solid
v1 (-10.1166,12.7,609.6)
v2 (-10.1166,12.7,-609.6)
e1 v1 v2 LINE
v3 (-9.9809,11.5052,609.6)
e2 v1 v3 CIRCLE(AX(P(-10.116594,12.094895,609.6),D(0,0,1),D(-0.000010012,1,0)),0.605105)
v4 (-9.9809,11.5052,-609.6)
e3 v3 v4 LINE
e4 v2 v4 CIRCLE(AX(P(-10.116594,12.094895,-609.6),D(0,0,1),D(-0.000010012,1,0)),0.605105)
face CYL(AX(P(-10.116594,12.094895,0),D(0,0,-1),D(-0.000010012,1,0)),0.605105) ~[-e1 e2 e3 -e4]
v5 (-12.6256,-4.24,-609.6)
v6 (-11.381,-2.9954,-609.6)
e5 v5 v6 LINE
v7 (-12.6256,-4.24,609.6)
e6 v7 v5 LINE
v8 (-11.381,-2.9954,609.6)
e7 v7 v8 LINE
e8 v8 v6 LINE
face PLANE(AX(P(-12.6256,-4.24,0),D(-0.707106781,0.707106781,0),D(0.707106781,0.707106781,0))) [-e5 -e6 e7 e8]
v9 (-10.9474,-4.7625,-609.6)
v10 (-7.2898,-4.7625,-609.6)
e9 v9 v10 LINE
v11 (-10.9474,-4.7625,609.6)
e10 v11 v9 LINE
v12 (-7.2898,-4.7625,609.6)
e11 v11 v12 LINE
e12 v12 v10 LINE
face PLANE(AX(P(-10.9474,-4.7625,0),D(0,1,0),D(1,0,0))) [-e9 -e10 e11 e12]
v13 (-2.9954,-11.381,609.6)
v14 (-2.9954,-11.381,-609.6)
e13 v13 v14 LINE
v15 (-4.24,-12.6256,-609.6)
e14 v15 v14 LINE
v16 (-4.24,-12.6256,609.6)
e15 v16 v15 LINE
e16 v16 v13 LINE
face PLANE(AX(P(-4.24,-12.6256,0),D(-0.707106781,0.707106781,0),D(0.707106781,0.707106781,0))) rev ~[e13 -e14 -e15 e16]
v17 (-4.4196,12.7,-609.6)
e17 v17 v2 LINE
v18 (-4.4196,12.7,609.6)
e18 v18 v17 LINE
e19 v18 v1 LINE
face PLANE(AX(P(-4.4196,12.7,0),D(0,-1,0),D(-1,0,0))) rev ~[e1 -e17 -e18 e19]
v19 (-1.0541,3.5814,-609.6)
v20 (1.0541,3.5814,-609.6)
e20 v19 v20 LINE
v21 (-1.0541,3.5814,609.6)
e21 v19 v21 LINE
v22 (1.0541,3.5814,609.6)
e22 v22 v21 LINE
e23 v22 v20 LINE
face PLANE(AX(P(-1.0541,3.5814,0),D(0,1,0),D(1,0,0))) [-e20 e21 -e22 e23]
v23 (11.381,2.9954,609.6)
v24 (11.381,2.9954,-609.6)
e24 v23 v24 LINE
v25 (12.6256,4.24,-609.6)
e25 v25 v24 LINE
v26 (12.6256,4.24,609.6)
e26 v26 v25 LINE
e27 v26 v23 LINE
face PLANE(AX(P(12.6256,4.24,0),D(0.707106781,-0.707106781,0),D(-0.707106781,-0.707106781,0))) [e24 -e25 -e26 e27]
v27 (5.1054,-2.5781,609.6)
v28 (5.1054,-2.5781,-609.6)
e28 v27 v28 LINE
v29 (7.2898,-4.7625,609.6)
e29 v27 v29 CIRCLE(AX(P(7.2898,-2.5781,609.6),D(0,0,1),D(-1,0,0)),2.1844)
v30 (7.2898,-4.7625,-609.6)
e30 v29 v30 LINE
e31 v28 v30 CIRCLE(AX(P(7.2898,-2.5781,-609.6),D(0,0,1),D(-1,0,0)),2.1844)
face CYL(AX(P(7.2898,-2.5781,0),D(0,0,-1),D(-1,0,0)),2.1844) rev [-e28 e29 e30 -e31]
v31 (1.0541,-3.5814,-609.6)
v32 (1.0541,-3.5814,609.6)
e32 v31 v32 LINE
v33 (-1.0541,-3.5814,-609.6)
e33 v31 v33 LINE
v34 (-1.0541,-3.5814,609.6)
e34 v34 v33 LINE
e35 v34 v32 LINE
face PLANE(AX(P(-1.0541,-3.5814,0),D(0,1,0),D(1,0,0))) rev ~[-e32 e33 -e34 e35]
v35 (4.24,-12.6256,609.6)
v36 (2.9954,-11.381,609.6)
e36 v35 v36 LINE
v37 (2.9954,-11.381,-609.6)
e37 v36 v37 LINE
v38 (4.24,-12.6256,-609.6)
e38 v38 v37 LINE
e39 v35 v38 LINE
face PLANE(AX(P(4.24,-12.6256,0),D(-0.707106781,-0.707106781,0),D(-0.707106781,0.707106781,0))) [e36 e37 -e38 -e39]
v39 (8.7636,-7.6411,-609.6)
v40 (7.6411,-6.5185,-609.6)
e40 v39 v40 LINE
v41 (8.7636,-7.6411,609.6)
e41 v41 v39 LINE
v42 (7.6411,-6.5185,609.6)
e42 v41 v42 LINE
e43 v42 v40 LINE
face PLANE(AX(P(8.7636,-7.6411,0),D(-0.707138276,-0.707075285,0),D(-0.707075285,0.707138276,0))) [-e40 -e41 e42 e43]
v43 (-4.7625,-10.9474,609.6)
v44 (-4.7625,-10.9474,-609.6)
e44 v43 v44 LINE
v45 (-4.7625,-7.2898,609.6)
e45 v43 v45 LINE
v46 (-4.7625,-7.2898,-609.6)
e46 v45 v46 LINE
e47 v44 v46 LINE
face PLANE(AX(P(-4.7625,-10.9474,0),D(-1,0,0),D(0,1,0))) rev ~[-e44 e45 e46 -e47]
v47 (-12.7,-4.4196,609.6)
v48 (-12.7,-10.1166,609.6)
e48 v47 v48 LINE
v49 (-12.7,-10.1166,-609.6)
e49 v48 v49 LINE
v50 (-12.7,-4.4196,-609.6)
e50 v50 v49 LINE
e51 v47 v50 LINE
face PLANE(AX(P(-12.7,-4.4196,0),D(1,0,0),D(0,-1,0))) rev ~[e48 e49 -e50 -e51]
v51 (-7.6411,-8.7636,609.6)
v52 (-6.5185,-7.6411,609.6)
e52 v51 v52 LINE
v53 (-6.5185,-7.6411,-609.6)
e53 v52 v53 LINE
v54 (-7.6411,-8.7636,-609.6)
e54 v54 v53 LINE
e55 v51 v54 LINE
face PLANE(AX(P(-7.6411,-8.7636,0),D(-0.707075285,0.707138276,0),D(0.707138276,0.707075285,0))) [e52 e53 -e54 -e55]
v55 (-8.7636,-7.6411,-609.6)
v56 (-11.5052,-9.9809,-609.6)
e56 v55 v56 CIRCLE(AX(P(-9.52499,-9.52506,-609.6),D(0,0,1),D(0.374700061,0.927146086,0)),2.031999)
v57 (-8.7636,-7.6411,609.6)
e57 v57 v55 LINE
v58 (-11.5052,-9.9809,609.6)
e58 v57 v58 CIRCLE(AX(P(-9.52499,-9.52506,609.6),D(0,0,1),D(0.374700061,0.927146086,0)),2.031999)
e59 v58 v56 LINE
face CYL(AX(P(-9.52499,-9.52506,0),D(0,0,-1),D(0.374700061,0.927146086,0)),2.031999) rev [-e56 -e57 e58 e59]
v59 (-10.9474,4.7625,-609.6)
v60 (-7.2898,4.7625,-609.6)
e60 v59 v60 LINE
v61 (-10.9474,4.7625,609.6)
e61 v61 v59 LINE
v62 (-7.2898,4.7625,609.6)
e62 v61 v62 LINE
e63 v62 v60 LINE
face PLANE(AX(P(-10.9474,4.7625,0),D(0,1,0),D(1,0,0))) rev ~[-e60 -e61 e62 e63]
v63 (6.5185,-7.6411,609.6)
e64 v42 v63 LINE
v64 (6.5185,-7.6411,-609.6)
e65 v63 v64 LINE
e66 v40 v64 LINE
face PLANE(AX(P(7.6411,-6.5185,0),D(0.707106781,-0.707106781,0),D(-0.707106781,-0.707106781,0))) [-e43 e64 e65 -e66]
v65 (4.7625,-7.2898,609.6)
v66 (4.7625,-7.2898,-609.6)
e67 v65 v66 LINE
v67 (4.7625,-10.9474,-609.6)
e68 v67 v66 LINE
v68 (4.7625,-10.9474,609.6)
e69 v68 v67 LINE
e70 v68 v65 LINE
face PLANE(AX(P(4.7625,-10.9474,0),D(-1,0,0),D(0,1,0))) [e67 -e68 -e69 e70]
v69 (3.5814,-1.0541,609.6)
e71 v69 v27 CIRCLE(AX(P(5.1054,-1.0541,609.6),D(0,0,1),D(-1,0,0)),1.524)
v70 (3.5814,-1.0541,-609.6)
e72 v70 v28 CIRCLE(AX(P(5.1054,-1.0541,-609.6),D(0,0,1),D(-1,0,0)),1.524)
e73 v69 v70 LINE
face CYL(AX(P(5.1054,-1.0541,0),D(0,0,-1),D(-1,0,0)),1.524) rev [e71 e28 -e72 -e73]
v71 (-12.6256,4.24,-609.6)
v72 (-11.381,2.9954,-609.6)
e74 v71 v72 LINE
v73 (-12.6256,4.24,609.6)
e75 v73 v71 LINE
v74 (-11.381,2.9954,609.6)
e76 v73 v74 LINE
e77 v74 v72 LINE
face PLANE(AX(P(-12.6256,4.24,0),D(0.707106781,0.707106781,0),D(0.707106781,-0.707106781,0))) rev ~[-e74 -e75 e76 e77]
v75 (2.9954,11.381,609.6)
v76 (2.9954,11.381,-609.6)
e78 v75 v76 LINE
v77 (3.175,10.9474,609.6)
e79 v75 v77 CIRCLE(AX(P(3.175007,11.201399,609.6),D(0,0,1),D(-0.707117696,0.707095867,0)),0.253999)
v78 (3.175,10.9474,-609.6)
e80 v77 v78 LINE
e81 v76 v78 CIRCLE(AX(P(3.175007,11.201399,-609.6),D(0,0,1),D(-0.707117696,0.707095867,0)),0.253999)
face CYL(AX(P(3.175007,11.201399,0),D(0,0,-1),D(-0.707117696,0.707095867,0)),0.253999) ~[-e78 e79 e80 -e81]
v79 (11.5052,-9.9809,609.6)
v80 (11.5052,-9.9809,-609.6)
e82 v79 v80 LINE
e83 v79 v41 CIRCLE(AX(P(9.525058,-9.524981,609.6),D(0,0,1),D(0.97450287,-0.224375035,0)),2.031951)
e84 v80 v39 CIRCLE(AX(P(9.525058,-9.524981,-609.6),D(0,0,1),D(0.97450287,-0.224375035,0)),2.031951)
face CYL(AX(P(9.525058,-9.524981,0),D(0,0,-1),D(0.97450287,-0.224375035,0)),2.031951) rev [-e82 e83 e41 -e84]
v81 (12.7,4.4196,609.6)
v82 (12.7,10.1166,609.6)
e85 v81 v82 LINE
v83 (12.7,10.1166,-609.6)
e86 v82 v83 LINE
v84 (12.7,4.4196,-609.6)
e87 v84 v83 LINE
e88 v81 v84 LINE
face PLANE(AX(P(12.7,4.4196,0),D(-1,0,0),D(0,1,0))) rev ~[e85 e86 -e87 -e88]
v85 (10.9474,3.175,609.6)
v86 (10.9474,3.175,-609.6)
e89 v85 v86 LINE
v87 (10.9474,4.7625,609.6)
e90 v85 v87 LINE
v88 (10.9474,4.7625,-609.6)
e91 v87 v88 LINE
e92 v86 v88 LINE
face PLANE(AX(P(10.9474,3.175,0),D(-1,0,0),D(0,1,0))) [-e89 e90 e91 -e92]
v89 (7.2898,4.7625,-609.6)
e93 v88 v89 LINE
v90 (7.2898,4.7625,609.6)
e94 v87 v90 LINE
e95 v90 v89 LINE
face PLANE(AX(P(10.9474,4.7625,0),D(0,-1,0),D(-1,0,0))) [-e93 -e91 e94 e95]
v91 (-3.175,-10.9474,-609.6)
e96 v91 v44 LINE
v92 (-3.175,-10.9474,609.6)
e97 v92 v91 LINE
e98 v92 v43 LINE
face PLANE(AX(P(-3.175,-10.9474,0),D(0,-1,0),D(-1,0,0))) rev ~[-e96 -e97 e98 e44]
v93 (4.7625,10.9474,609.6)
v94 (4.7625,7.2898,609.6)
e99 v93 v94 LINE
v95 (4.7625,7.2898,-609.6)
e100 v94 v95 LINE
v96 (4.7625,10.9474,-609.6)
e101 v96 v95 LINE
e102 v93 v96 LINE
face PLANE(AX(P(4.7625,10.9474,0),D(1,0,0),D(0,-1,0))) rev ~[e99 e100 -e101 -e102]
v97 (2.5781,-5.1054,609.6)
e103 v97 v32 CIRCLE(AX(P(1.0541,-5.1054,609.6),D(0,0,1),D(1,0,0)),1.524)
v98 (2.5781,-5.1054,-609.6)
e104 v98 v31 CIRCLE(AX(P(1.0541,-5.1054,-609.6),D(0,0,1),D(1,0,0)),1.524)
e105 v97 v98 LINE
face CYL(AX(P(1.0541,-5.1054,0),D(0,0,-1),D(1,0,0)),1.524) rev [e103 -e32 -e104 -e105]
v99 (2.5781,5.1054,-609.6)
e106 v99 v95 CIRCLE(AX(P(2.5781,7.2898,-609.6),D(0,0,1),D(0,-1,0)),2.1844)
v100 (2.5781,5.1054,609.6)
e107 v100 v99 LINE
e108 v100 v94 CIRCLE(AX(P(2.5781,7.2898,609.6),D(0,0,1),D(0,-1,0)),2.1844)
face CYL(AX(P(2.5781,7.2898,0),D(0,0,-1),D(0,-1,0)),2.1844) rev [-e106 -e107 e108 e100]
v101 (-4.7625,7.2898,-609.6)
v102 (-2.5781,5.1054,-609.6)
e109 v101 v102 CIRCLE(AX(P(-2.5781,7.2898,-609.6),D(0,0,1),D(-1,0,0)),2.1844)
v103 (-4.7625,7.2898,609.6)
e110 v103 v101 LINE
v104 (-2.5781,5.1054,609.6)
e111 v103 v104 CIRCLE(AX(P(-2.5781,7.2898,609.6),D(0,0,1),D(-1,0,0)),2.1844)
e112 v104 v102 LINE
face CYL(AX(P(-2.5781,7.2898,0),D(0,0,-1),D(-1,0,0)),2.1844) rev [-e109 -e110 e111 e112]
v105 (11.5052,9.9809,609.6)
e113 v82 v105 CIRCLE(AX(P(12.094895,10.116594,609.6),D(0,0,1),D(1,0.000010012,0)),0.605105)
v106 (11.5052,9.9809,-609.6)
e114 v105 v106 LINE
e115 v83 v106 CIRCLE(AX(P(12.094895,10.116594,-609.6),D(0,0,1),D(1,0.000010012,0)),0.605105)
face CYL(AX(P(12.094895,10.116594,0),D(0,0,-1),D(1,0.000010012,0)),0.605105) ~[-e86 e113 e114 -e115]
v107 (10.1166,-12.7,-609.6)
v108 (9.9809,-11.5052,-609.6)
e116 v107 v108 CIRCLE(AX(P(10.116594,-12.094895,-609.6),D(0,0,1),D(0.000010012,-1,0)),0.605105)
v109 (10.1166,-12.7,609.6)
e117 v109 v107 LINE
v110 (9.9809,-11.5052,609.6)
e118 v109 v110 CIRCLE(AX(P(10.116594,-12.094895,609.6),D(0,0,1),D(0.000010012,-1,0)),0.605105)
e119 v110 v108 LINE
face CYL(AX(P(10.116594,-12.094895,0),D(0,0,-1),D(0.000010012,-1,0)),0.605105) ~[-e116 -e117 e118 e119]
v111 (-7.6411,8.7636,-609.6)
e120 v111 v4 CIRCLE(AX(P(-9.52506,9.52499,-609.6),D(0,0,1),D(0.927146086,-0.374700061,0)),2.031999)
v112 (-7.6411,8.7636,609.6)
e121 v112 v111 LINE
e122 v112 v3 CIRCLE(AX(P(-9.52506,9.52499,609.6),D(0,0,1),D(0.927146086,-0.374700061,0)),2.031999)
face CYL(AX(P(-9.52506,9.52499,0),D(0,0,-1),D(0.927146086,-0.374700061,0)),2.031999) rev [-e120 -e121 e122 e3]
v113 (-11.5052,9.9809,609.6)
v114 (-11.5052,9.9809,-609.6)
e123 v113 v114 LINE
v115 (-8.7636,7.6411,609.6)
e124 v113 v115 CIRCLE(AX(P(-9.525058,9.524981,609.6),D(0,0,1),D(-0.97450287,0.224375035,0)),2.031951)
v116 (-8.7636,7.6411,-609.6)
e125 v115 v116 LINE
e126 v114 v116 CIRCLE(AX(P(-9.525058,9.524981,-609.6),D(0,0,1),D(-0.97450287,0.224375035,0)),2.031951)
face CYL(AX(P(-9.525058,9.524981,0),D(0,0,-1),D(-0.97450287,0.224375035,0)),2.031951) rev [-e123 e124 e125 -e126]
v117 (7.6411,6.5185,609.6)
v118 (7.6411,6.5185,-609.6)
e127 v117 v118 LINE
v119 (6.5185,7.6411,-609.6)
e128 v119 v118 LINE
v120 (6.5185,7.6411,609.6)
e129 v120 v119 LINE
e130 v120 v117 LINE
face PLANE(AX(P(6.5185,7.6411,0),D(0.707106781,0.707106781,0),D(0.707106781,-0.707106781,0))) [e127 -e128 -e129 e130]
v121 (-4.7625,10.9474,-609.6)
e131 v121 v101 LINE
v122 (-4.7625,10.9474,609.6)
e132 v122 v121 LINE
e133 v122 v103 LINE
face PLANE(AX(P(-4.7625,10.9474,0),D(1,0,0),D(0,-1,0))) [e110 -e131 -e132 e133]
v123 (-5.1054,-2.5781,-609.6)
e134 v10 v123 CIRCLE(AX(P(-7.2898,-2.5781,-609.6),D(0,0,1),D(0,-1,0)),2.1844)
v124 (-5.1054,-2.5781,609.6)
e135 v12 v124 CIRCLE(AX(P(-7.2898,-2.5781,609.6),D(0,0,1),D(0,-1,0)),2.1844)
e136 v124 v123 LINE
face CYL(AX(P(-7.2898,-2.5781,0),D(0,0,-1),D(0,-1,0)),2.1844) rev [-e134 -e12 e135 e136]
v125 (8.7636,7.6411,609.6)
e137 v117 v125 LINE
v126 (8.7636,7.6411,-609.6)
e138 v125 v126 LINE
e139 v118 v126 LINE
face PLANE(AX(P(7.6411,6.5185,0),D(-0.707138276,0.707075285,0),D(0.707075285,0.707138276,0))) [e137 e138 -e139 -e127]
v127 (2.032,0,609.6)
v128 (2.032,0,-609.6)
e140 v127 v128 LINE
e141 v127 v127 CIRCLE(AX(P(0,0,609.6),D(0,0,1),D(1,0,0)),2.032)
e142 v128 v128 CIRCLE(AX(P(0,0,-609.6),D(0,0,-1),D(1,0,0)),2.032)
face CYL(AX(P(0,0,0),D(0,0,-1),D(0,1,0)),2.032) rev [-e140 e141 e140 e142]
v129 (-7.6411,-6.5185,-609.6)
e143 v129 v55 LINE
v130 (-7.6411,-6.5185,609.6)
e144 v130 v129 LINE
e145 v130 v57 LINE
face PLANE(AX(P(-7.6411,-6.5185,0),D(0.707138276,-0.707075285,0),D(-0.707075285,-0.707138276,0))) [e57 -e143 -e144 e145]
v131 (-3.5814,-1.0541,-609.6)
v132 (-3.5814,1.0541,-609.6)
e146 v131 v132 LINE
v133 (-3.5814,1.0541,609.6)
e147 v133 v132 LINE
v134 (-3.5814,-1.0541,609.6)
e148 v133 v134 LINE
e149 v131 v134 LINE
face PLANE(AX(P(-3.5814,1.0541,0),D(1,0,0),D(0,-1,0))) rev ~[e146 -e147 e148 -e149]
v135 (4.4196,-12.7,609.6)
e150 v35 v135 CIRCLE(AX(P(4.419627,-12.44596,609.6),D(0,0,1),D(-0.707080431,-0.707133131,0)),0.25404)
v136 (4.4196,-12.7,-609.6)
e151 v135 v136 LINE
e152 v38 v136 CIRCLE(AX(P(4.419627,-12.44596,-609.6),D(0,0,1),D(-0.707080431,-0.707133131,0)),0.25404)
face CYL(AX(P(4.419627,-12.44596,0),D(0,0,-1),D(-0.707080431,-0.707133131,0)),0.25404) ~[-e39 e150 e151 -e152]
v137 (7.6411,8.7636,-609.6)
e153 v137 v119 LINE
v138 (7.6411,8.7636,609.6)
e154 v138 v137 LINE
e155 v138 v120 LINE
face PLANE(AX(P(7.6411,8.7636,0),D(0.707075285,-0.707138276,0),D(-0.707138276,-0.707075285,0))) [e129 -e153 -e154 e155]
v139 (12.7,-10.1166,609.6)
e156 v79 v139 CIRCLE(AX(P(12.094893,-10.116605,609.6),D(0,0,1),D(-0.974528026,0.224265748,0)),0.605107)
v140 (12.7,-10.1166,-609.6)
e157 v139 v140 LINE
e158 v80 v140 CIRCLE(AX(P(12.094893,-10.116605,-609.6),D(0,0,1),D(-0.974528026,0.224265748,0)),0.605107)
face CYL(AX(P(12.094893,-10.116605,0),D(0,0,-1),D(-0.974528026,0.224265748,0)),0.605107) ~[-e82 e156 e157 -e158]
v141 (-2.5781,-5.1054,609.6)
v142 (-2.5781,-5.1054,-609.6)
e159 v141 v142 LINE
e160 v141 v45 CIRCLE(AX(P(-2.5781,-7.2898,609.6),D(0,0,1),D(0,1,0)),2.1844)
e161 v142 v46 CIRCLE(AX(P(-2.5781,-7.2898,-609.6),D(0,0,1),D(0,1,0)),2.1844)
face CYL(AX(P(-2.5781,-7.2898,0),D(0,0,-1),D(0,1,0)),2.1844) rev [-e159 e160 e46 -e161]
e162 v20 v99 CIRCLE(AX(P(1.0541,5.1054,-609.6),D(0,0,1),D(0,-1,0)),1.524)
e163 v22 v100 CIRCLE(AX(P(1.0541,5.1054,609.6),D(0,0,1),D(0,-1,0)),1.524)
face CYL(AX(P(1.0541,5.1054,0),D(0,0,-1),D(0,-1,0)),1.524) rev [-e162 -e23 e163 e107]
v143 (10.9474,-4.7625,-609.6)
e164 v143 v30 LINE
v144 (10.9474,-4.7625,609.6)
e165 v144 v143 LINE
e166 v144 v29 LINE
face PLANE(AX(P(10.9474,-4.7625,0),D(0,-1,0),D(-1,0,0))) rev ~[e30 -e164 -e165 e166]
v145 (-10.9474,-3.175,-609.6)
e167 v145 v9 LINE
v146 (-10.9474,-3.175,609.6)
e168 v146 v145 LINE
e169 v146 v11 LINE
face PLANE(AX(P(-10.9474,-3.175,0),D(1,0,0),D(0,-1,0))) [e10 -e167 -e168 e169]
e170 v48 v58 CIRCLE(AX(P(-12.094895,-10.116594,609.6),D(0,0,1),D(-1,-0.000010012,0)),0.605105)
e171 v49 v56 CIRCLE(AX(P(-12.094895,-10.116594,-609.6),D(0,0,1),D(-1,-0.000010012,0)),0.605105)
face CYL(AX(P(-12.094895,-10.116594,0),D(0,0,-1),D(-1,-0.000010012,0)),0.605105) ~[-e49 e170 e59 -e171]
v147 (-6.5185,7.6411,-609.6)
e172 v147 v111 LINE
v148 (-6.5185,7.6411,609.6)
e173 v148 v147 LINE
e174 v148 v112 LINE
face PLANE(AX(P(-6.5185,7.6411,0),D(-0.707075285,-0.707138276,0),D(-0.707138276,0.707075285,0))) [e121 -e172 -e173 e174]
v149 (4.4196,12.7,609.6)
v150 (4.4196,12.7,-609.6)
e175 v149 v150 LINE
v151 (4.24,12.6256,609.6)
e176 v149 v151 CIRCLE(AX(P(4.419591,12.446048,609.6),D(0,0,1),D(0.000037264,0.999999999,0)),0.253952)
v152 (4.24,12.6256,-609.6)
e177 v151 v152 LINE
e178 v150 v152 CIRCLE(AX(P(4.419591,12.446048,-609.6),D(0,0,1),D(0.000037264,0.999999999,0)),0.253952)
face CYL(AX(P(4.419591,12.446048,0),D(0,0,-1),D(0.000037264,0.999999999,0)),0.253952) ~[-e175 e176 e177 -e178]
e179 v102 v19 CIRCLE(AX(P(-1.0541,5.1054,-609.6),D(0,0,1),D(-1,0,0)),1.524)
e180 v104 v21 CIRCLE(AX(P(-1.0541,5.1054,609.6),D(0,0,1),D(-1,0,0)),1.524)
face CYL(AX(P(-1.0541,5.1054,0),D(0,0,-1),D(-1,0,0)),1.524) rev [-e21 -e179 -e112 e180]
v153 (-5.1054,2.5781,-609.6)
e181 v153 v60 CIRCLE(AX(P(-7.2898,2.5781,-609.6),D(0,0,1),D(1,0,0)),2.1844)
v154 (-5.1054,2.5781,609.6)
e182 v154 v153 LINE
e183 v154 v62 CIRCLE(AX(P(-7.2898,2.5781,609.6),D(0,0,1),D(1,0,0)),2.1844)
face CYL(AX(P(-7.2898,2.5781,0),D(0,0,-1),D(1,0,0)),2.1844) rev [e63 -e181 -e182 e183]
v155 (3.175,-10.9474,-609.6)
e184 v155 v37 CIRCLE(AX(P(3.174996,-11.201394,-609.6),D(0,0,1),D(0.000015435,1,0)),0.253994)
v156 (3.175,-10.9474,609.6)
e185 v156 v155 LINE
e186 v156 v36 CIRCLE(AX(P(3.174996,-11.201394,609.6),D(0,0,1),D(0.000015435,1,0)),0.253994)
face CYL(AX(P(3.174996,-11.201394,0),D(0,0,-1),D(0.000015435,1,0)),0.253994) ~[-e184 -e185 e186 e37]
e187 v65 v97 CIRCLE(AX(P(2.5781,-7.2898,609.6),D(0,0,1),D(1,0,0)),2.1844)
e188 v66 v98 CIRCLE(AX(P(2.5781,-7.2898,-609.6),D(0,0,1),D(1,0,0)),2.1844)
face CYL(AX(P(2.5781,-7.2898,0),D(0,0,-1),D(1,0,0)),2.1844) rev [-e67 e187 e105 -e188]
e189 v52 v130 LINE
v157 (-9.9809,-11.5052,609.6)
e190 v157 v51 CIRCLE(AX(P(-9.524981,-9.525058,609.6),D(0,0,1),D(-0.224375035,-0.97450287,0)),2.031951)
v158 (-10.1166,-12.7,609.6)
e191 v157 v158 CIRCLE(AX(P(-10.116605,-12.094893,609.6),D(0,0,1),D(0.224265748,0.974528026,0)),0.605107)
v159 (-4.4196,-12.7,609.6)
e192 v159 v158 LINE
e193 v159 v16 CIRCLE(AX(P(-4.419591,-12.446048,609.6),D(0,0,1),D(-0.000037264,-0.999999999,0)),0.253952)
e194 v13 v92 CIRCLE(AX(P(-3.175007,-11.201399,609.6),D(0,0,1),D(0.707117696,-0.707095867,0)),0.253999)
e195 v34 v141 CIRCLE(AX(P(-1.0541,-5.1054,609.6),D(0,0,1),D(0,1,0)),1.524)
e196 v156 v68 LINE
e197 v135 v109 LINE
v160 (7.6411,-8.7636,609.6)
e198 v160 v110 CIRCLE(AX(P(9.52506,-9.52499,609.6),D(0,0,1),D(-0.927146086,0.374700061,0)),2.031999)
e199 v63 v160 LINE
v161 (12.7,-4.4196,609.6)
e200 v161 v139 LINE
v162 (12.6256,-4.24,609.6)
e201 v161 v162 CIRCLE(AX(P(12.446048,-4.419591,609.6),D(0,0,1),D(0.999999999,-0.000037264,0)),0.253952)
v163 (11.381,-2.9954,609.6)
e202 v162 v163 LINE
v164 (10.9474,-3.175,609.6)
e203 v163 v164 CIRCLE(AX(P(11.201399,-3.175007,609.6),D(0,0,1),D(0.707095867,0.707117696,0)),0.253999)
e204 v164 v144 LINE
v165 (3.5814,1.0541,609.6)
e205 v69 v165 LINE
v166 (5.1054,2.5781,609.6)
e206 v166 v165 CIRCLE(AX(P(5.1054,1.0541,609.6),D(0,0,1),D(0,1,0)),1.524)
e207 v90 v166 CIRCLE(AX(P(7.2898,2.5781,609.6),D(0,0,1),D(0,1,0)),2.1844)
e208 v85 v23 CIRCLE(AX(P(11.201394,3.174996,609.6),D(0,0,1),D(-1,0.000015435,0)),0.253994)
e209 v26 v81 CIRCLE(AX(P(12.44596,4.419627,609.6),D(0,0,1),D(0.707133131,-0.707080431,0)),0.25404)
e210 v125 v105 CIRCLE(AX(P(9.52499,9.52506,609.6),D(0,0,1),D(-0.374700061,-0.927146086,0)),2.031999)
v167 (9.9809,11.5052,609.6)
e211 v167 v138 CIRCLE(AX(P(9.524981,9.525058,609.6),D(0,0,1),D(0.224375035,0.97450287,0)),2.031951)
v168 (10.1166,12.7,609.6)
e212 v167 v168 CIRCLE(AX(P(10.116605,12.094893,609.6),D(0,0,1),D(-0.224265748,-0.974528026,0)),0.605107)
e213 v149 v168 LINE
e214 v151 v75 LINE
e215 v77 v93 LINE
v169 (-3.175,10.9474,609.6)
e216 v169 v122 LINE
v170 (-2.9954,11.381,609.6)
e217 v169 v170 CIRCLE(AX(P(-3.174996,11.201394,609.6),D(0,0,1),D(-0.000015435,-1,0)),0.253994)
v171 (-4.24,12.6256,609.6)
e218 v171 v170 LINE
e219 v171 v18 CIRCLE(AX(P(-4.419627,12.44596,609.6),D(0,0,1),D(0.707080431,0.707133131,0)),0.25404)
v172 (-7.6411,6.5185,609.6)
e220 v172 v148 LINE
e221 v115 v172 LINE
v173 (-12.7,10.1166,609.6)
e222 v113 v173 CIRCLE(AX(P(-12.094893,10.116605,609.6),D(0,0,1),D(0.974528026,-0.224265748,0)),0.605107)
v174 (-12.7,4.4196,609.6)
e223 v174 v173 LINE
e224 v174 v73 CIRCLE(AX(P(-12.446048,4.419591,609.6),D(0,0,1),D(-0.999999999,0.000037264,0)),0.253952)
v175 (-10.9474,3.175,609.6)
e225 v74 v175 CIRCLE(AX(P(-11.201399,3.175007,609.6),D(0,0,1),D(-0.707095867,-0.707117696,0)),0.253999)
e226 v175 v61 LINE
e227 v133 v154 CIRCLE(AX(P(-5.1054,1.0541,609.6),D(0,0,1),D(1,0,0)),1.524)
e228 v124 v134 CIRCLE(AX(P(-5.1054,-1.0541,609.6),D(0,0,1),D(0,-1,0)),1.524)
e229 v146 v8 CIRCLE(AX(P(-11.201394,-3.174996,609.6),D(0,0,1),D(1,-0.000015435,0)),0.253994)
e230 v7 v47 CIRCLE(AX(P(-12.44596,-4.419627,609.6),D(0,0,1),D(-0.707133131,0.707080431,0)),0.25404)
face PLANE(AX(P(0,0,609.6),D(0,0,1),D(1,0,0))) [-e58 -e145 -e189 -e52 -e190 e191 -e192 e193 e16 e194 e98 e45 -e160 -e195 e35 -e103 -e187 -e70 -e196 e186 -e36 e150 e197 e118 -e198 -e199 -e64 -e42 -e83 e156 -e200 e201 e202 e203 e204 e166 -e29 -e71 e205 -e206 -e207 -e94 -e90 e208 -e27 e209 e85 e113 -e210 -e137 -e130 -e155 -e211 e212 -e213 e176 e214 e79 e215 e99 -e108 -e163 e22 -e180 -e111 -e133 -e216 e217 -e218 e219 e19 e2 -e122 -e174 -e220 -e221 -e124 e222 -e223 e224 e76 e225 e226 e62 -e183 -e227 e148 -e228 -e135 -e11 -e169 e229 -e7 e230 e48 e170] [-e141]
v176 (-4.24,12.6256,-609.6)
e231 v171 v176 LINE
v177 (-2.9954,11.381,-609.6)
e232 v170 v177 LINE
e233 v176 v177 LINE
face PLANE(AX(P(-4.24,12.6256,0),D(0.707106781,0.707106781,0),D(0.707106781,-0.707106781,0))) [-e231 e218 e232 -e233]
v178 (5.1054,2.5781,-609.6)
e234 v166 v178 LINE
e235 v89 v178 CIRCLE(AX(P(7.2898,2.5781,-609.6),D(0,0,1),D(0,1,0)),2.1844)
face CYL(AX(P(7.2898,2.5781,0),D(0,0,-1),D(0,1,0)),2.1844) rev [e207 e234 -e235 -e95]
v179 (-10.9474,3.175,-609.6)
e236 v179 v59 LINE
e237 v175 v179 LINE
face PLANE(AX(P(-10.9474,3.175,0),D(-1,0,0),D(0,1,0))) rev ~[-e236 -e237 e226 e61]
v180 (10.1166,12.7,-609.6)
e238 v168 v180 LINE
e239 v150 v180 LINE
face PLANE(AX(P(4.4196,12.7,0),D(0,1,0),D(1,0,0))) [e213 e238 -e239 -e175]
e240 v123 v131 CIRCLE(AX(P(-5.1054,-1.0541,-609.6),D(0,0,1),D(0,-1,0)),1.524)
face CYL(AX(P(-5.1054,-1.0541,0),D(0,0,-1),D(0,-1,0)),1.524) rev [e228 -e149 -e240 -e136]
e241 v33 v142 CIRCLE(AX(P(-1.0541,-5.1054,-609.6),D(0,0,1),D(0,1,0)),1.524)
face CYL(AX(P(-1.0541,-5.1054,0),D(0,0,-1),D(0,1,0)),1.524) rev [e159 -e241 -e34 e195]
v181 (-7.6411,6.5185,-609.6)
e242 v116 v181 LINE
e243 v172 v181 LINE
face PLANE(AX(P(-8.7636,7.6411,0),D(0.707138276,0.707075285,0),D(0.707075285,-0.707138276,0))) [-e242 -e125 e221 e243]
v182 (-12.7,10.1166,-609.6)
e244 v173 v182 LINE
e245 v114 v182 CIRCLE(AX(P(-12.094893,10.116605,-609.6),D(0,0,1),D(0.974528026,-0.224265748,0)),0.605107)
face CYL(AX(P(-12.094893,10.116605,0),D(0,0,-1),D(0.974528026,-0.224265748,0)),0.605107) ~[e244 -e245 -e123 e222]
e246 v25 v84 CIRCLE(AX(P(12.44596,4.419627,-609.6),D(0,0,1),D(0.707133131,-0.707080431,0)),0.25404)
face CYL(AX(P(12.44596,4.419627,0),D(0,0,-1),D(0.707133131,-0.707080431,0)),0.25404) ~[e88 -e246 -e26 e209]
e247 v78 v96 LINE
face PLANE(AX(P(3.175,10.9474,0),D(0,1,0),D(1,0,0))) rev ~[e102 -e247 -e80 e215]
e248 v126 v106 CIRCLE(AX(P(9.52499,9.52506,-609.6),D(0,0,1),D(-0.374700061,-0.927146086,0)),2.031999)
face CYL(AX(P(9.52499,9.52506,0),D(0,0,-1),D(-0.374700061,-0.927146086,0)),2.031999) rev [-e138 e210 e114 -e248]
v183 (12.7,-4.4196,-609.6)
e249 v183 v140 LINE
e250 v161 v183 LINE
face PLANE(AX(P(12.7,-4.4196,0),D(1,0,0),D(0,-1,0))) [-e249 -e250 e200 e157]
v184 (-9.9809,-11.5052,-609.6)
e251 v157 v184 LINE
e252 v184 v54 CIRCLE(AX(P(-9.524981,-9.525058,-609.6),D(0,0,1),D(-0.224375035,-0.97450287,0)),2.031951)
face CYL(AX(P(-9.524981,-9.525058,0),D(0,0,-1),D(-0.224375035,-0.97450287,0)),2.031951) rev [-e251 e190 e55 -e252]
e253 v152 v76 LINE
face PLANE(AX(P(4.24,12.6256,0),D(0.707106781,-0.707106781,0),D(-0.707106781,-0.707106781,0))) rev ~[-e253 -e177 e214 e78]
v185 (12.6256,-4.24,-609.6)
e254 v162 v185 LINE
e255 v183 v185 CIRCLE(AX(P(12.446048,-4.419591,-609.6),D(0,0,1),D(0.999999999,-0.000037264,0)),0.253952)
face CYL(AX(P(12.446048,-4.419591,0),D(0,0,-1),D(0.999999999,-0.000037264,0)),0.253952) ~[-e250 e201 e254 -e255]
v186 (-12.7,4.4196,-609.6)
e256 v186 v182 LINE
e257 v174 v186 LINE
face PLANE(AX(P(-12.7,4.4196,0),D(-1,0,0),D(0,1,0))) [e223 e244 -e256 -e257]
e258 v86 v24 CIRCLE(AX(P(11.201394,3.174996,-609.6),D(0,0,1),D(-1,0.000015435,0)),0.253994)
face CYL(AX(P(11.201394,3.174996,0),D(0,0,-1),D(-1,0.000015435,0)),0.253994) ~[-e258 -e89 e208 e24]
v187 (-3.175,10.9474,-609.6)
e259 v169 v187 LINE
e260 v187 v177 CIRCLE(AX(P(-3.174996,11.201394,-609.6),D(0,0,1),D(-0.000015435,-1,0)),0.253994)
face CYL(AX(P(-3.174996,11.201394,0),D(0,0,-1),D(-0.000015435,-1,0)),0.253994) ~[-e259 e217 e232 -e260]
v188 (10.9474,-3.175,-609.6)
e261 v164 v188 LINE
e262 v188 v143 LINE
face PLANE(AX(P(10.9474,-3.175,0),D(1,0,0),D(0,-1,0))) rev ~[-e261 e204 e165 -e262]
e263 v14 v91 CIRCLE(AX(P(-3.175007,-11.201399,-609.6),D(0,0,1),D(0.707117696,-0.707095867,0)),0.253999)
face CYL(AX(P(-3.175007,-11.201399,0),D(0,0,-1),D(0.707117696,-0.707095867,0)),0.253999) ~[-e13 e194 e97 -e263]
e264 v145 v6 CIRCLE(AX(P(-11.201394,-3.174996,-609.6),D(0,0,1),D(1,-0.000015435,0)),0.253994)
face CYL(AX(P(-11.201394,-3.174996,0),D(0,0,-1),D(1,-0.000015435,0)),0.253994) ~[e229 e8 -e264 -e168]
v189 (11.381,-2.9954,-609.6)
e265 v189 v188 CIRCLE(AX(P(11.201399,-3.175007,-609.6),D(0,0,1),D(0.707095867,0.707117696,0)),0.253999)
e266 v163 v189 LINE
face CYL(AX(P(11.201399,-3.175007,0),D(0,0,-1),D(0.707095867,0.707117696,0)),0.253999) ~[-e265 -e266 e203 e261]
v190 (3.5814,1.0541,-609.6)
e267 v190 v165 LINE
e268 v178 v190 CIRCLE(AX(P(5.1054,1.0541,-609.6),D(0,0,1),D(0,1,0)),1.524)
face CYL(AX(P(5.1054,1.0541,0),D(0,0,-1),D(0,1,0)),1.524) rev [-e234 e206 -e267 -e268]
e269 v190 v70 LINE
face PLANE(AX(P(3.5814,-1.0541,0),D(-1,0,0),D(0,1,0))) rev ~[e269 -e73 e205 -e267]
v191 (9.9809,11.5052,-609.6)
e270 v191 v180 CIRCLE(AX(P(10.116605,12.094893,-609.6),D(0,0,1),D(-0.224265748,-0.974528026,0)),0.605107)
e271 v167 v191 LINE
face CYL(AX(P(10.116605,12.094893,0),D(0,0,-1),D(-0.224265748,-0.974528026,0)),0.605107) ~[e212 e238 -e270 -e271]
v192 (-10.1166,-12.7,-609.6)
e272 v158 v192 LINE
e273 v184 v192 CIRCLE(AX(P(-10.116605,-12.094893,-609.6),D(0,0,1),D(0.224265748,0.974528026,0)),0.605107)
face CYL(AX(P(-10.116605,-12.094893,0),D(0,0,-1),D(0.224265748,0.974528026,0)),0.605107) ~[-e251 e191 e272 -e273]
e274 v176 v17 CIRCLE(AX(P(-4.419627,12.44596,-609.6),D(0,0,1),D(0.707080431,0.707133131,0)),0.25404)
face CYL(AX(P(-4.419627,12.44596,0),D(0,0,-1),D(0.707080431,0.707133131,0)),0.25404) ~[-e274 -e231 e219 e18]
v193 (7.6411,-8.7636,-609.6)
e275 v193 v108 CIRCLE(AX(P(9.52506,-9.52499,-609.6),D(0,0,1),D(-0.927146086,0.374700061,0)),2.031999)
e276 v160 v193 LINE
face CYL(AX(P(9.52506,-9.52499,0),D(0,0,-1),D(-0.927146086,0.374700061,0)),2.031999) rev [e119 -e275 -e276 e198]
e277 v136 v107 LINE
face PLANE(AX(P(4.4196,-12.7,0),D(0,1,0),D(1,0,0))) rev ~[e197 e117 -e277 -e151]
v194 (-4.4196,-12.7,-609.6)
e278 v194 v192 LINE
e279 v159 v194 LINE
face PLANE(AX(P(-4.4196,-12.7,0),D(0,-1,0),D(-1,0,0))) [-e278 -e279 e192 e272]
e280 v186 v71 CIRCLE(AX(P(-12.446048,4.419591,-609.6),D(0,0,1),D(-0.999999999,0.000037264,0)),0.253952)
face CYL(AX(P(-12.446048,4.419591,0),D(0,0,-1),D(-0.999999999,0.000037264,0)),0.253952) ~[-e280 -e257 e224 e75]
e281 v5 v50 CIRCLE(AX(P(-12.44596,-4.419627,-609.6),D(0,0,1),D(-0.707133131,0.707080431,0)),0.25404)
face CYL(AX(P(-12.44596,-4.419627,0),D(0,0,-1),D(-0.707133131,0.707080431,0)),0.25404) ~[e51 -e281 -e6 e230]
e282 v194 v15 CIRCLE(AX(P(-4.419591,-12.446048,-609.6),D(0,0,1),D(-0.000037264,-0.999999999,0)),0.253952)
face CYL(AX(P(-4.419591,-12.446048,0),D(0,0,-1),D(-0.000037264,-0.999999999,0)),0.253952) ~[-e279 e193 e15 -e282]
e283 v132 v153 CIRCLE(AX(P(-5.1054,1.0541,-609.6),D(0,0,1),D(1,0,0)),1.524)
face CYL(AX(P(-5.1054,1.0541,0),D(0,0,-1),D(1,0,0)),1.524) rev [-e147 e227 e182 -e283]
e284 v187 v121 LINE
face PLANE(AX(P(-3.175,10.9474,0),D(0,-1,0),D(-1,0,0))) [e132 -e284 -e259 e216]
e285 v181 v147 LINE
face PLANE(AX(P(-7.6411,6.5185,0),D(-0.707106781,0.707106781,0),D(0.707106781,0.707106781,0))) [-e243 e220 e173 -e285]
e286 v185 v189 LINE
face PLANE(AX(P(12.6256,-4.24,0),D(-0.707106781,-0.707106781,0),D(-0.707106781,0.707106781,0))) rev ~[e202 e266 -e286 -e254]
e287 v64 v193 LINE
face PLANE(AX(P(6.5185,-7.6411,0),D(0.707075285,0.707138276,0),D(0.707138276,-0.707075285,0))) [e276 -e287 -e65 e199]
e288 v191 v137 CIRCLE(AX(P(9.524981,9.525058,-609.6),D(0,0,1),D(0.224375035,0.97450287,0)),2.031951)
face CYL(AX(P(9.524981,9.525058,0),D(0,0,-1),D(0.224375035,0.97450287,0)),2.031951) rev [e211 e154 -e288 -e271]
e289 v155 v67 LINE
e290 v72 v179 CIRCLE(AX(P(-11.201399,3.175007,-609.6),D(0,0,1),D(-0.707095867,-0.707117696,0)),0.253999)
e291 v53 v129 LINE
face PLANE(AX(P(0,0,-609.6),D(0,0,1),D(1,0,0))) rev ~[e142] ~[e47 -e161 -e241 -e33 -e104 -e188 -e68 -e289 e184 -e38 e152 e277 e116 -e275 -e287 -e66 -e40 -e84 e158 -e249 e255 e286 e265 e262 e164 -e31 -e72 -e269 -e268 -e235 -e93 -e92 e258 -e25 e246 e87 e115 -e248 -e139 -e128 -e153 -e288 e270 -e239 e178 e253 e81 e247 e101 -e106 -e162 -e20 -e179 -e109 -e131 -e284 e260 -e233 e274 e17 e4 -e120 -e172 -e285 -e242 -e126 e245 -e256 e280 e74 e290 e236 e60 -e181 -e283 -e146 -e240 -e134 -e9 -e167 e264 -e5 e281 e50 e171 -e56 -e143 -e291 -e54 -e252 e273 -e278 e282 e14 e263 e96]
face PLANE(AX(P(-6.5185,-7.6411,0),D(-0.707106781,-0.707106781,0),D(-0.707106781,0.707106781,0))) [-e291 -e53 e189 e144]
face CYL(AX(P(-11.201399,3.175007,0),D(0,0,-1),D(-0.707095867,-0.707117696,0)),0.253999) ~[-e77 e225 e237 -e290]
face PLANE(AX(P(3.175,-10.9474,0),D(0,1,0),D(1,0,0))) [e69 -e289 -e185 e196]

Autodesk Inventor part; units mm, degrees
ref_plane "YZ Plane" through (0, 0, 0) normal (1, 0, 0) x (0, 1, 0)
ref_plane "XZ Plane" through (0, 0, 0) normal (0, 1, 0) x (-1, 0, 0)
ref_plane "XY Plane" through (0, 0, 0) normal (0, 0, 1) x (1, 0, 0)
sketch "Sketch1" plane through (0, 0, 0) normal (0, 0, 1) x (1, 0, 0)
  arc A0 (0, 2.032) -> (-2.032, 0) centre (0, 0) ccw
  line L0 (-4.24, 12.6256) -> (-2.9954, 11.381)
  line L1 (-3.175, 10.9474) -> (-4.7625, 10.9474)
  line L2 (-4.7625, 10.9474) -> (-4.7625, 7.2898)
  line L3 (-4.4196, 12.7) -> (-10.1166, 12.7)
  arc A1 (-8.0882, 8.0882) -> (-7.6411, 8.7636) centre (-9.525, 9.525) ccw construction
  arc A2 (-10.1166, 12.7) -> (-9.9809, 11.5052) centre (-10.1166, 12.0949) ccw
  line L4 (-10.5445, 11.667) -> (-11.1057, 11.1057) construction
  arc A3 (-4.7625, 7.2898) -> (-2.5781, 5.1054) centre (-2.5781, 7.2898) ccw
  arc A4 (-2.5781, 5.1054) -> (-1.0541, 3.5814) centre (-1.0541, 5.1054) ccw
  line L5 (-1.0541, 3.5814) -> (0, 3.5814)
  line L6 (-2.5781, 5.1054) -> (0, 5.1054) construction
  line L7 (0, 0) -> (-11.1057, 11.1057) construction
  line L8 (-12.6256, 4.24) -> (-11.381, 2.9954)
  line L9 (-10.9474, 3.175) -> (-10.9474, 4.7625)
  line L10 (-10.9474, 4.7625) -> (-7.2898, 4.7625)
  line L11 (-12.7, 4.4196) -> (-12.7, 10.1166)
  arc A5 (-11.5052, 9.9809) -> (-8.7636, 7.6411) centre (-9.525, 9.525) ccw
  arc A6 (-11.5052, 9.9809) -> (-12.7, 10.1166) centre (-12.0949, 10.1166) ccw
  arc A7 (-5.1054, 2.5781) -> (-7.2898, 4.7625) centre (-7.2898, 2.5781) ccw
  arc A8 (-3.5814, 1.0541) -> (-5.1054, 2.5781) centre (-5.1054, 1.0541) ccw
  line L12 (-3.5814, 1.0541) -> (-3.5814, 0)
  line L13 (0, 3.5814) -> (0, 2.032)
  line L14 (-3.5814, 0) -> (-2.032, 0)
  arc A9 (-3.175, 10.9474) -> (-2.9954, 11.381) centre (-3.175, 11.2014) ccw
  arc A10 (-11.381, 2.9954) -> (-10.9474, 3.175) centre (-11.2014, 3.175) ccw
  arc A11 (-12.7, 4.4196) -> (-12.6256, 4.24) centre (-12.446, 4.4196) ccw
  arc A12 (-4.24, 12.6256) -> (-4.4196, 12.7) centre (-4.4196, 12.446) ccw
  line L15 (-2.921, 11.2014) -> (0, 11.2014) construction
  line L16 (-8.7636, 7.6411) -> (-7.6411, 6.5185)
  line L17 (-7.6411, 6.5185) -> (-6.5185, 7.6411)
  line L18 (-6.5185, 7.6411) -> (-7.6411, 8.7636)
  arc A13 (-8.7636, 7.6411) -> (-8.0882, 8.0882) centre (-9.525, 9.525) ccw construction
  arc A14 (-7.6411, 8.7636) -> (-9.9809, 11.5052) centre (-9.525, 9.525) ccw
  point P0 (-4.3144, 12.7)
  point P1 (-2.5618, 10.9474)
  point P2 (-12.7, 4.3144)
  point P3 (-10.9474, 2.5618)
  point P4 (-7.0798, 7.0798)
  dimension "d0" = 4.064
  dimension "d1" = 45
  dimension "d10" = 0.7937
  dimension "d13" = 2.5781
  dimension "d14" = 1.7526
  dimension "d21" = 1.5494
  dimension "d23" = 0.254
  dimension "d24" = 2.921
  dimension "d30" = 12.7
  dimension "d32" = 9.525
  dimension "d33" = 4.7625
  dimension "d34" = 1.524
extrude "Extrusion1" add sketch "Sketch1" along normal mid plane 1219.2
pattern_circular "Circular Pattern1" count 4 over 360 about axis through (0, 0, -10) along (0, 0, 1) of "Extrusion1"
properties part number "Rail" material "Aluminum 6061"
